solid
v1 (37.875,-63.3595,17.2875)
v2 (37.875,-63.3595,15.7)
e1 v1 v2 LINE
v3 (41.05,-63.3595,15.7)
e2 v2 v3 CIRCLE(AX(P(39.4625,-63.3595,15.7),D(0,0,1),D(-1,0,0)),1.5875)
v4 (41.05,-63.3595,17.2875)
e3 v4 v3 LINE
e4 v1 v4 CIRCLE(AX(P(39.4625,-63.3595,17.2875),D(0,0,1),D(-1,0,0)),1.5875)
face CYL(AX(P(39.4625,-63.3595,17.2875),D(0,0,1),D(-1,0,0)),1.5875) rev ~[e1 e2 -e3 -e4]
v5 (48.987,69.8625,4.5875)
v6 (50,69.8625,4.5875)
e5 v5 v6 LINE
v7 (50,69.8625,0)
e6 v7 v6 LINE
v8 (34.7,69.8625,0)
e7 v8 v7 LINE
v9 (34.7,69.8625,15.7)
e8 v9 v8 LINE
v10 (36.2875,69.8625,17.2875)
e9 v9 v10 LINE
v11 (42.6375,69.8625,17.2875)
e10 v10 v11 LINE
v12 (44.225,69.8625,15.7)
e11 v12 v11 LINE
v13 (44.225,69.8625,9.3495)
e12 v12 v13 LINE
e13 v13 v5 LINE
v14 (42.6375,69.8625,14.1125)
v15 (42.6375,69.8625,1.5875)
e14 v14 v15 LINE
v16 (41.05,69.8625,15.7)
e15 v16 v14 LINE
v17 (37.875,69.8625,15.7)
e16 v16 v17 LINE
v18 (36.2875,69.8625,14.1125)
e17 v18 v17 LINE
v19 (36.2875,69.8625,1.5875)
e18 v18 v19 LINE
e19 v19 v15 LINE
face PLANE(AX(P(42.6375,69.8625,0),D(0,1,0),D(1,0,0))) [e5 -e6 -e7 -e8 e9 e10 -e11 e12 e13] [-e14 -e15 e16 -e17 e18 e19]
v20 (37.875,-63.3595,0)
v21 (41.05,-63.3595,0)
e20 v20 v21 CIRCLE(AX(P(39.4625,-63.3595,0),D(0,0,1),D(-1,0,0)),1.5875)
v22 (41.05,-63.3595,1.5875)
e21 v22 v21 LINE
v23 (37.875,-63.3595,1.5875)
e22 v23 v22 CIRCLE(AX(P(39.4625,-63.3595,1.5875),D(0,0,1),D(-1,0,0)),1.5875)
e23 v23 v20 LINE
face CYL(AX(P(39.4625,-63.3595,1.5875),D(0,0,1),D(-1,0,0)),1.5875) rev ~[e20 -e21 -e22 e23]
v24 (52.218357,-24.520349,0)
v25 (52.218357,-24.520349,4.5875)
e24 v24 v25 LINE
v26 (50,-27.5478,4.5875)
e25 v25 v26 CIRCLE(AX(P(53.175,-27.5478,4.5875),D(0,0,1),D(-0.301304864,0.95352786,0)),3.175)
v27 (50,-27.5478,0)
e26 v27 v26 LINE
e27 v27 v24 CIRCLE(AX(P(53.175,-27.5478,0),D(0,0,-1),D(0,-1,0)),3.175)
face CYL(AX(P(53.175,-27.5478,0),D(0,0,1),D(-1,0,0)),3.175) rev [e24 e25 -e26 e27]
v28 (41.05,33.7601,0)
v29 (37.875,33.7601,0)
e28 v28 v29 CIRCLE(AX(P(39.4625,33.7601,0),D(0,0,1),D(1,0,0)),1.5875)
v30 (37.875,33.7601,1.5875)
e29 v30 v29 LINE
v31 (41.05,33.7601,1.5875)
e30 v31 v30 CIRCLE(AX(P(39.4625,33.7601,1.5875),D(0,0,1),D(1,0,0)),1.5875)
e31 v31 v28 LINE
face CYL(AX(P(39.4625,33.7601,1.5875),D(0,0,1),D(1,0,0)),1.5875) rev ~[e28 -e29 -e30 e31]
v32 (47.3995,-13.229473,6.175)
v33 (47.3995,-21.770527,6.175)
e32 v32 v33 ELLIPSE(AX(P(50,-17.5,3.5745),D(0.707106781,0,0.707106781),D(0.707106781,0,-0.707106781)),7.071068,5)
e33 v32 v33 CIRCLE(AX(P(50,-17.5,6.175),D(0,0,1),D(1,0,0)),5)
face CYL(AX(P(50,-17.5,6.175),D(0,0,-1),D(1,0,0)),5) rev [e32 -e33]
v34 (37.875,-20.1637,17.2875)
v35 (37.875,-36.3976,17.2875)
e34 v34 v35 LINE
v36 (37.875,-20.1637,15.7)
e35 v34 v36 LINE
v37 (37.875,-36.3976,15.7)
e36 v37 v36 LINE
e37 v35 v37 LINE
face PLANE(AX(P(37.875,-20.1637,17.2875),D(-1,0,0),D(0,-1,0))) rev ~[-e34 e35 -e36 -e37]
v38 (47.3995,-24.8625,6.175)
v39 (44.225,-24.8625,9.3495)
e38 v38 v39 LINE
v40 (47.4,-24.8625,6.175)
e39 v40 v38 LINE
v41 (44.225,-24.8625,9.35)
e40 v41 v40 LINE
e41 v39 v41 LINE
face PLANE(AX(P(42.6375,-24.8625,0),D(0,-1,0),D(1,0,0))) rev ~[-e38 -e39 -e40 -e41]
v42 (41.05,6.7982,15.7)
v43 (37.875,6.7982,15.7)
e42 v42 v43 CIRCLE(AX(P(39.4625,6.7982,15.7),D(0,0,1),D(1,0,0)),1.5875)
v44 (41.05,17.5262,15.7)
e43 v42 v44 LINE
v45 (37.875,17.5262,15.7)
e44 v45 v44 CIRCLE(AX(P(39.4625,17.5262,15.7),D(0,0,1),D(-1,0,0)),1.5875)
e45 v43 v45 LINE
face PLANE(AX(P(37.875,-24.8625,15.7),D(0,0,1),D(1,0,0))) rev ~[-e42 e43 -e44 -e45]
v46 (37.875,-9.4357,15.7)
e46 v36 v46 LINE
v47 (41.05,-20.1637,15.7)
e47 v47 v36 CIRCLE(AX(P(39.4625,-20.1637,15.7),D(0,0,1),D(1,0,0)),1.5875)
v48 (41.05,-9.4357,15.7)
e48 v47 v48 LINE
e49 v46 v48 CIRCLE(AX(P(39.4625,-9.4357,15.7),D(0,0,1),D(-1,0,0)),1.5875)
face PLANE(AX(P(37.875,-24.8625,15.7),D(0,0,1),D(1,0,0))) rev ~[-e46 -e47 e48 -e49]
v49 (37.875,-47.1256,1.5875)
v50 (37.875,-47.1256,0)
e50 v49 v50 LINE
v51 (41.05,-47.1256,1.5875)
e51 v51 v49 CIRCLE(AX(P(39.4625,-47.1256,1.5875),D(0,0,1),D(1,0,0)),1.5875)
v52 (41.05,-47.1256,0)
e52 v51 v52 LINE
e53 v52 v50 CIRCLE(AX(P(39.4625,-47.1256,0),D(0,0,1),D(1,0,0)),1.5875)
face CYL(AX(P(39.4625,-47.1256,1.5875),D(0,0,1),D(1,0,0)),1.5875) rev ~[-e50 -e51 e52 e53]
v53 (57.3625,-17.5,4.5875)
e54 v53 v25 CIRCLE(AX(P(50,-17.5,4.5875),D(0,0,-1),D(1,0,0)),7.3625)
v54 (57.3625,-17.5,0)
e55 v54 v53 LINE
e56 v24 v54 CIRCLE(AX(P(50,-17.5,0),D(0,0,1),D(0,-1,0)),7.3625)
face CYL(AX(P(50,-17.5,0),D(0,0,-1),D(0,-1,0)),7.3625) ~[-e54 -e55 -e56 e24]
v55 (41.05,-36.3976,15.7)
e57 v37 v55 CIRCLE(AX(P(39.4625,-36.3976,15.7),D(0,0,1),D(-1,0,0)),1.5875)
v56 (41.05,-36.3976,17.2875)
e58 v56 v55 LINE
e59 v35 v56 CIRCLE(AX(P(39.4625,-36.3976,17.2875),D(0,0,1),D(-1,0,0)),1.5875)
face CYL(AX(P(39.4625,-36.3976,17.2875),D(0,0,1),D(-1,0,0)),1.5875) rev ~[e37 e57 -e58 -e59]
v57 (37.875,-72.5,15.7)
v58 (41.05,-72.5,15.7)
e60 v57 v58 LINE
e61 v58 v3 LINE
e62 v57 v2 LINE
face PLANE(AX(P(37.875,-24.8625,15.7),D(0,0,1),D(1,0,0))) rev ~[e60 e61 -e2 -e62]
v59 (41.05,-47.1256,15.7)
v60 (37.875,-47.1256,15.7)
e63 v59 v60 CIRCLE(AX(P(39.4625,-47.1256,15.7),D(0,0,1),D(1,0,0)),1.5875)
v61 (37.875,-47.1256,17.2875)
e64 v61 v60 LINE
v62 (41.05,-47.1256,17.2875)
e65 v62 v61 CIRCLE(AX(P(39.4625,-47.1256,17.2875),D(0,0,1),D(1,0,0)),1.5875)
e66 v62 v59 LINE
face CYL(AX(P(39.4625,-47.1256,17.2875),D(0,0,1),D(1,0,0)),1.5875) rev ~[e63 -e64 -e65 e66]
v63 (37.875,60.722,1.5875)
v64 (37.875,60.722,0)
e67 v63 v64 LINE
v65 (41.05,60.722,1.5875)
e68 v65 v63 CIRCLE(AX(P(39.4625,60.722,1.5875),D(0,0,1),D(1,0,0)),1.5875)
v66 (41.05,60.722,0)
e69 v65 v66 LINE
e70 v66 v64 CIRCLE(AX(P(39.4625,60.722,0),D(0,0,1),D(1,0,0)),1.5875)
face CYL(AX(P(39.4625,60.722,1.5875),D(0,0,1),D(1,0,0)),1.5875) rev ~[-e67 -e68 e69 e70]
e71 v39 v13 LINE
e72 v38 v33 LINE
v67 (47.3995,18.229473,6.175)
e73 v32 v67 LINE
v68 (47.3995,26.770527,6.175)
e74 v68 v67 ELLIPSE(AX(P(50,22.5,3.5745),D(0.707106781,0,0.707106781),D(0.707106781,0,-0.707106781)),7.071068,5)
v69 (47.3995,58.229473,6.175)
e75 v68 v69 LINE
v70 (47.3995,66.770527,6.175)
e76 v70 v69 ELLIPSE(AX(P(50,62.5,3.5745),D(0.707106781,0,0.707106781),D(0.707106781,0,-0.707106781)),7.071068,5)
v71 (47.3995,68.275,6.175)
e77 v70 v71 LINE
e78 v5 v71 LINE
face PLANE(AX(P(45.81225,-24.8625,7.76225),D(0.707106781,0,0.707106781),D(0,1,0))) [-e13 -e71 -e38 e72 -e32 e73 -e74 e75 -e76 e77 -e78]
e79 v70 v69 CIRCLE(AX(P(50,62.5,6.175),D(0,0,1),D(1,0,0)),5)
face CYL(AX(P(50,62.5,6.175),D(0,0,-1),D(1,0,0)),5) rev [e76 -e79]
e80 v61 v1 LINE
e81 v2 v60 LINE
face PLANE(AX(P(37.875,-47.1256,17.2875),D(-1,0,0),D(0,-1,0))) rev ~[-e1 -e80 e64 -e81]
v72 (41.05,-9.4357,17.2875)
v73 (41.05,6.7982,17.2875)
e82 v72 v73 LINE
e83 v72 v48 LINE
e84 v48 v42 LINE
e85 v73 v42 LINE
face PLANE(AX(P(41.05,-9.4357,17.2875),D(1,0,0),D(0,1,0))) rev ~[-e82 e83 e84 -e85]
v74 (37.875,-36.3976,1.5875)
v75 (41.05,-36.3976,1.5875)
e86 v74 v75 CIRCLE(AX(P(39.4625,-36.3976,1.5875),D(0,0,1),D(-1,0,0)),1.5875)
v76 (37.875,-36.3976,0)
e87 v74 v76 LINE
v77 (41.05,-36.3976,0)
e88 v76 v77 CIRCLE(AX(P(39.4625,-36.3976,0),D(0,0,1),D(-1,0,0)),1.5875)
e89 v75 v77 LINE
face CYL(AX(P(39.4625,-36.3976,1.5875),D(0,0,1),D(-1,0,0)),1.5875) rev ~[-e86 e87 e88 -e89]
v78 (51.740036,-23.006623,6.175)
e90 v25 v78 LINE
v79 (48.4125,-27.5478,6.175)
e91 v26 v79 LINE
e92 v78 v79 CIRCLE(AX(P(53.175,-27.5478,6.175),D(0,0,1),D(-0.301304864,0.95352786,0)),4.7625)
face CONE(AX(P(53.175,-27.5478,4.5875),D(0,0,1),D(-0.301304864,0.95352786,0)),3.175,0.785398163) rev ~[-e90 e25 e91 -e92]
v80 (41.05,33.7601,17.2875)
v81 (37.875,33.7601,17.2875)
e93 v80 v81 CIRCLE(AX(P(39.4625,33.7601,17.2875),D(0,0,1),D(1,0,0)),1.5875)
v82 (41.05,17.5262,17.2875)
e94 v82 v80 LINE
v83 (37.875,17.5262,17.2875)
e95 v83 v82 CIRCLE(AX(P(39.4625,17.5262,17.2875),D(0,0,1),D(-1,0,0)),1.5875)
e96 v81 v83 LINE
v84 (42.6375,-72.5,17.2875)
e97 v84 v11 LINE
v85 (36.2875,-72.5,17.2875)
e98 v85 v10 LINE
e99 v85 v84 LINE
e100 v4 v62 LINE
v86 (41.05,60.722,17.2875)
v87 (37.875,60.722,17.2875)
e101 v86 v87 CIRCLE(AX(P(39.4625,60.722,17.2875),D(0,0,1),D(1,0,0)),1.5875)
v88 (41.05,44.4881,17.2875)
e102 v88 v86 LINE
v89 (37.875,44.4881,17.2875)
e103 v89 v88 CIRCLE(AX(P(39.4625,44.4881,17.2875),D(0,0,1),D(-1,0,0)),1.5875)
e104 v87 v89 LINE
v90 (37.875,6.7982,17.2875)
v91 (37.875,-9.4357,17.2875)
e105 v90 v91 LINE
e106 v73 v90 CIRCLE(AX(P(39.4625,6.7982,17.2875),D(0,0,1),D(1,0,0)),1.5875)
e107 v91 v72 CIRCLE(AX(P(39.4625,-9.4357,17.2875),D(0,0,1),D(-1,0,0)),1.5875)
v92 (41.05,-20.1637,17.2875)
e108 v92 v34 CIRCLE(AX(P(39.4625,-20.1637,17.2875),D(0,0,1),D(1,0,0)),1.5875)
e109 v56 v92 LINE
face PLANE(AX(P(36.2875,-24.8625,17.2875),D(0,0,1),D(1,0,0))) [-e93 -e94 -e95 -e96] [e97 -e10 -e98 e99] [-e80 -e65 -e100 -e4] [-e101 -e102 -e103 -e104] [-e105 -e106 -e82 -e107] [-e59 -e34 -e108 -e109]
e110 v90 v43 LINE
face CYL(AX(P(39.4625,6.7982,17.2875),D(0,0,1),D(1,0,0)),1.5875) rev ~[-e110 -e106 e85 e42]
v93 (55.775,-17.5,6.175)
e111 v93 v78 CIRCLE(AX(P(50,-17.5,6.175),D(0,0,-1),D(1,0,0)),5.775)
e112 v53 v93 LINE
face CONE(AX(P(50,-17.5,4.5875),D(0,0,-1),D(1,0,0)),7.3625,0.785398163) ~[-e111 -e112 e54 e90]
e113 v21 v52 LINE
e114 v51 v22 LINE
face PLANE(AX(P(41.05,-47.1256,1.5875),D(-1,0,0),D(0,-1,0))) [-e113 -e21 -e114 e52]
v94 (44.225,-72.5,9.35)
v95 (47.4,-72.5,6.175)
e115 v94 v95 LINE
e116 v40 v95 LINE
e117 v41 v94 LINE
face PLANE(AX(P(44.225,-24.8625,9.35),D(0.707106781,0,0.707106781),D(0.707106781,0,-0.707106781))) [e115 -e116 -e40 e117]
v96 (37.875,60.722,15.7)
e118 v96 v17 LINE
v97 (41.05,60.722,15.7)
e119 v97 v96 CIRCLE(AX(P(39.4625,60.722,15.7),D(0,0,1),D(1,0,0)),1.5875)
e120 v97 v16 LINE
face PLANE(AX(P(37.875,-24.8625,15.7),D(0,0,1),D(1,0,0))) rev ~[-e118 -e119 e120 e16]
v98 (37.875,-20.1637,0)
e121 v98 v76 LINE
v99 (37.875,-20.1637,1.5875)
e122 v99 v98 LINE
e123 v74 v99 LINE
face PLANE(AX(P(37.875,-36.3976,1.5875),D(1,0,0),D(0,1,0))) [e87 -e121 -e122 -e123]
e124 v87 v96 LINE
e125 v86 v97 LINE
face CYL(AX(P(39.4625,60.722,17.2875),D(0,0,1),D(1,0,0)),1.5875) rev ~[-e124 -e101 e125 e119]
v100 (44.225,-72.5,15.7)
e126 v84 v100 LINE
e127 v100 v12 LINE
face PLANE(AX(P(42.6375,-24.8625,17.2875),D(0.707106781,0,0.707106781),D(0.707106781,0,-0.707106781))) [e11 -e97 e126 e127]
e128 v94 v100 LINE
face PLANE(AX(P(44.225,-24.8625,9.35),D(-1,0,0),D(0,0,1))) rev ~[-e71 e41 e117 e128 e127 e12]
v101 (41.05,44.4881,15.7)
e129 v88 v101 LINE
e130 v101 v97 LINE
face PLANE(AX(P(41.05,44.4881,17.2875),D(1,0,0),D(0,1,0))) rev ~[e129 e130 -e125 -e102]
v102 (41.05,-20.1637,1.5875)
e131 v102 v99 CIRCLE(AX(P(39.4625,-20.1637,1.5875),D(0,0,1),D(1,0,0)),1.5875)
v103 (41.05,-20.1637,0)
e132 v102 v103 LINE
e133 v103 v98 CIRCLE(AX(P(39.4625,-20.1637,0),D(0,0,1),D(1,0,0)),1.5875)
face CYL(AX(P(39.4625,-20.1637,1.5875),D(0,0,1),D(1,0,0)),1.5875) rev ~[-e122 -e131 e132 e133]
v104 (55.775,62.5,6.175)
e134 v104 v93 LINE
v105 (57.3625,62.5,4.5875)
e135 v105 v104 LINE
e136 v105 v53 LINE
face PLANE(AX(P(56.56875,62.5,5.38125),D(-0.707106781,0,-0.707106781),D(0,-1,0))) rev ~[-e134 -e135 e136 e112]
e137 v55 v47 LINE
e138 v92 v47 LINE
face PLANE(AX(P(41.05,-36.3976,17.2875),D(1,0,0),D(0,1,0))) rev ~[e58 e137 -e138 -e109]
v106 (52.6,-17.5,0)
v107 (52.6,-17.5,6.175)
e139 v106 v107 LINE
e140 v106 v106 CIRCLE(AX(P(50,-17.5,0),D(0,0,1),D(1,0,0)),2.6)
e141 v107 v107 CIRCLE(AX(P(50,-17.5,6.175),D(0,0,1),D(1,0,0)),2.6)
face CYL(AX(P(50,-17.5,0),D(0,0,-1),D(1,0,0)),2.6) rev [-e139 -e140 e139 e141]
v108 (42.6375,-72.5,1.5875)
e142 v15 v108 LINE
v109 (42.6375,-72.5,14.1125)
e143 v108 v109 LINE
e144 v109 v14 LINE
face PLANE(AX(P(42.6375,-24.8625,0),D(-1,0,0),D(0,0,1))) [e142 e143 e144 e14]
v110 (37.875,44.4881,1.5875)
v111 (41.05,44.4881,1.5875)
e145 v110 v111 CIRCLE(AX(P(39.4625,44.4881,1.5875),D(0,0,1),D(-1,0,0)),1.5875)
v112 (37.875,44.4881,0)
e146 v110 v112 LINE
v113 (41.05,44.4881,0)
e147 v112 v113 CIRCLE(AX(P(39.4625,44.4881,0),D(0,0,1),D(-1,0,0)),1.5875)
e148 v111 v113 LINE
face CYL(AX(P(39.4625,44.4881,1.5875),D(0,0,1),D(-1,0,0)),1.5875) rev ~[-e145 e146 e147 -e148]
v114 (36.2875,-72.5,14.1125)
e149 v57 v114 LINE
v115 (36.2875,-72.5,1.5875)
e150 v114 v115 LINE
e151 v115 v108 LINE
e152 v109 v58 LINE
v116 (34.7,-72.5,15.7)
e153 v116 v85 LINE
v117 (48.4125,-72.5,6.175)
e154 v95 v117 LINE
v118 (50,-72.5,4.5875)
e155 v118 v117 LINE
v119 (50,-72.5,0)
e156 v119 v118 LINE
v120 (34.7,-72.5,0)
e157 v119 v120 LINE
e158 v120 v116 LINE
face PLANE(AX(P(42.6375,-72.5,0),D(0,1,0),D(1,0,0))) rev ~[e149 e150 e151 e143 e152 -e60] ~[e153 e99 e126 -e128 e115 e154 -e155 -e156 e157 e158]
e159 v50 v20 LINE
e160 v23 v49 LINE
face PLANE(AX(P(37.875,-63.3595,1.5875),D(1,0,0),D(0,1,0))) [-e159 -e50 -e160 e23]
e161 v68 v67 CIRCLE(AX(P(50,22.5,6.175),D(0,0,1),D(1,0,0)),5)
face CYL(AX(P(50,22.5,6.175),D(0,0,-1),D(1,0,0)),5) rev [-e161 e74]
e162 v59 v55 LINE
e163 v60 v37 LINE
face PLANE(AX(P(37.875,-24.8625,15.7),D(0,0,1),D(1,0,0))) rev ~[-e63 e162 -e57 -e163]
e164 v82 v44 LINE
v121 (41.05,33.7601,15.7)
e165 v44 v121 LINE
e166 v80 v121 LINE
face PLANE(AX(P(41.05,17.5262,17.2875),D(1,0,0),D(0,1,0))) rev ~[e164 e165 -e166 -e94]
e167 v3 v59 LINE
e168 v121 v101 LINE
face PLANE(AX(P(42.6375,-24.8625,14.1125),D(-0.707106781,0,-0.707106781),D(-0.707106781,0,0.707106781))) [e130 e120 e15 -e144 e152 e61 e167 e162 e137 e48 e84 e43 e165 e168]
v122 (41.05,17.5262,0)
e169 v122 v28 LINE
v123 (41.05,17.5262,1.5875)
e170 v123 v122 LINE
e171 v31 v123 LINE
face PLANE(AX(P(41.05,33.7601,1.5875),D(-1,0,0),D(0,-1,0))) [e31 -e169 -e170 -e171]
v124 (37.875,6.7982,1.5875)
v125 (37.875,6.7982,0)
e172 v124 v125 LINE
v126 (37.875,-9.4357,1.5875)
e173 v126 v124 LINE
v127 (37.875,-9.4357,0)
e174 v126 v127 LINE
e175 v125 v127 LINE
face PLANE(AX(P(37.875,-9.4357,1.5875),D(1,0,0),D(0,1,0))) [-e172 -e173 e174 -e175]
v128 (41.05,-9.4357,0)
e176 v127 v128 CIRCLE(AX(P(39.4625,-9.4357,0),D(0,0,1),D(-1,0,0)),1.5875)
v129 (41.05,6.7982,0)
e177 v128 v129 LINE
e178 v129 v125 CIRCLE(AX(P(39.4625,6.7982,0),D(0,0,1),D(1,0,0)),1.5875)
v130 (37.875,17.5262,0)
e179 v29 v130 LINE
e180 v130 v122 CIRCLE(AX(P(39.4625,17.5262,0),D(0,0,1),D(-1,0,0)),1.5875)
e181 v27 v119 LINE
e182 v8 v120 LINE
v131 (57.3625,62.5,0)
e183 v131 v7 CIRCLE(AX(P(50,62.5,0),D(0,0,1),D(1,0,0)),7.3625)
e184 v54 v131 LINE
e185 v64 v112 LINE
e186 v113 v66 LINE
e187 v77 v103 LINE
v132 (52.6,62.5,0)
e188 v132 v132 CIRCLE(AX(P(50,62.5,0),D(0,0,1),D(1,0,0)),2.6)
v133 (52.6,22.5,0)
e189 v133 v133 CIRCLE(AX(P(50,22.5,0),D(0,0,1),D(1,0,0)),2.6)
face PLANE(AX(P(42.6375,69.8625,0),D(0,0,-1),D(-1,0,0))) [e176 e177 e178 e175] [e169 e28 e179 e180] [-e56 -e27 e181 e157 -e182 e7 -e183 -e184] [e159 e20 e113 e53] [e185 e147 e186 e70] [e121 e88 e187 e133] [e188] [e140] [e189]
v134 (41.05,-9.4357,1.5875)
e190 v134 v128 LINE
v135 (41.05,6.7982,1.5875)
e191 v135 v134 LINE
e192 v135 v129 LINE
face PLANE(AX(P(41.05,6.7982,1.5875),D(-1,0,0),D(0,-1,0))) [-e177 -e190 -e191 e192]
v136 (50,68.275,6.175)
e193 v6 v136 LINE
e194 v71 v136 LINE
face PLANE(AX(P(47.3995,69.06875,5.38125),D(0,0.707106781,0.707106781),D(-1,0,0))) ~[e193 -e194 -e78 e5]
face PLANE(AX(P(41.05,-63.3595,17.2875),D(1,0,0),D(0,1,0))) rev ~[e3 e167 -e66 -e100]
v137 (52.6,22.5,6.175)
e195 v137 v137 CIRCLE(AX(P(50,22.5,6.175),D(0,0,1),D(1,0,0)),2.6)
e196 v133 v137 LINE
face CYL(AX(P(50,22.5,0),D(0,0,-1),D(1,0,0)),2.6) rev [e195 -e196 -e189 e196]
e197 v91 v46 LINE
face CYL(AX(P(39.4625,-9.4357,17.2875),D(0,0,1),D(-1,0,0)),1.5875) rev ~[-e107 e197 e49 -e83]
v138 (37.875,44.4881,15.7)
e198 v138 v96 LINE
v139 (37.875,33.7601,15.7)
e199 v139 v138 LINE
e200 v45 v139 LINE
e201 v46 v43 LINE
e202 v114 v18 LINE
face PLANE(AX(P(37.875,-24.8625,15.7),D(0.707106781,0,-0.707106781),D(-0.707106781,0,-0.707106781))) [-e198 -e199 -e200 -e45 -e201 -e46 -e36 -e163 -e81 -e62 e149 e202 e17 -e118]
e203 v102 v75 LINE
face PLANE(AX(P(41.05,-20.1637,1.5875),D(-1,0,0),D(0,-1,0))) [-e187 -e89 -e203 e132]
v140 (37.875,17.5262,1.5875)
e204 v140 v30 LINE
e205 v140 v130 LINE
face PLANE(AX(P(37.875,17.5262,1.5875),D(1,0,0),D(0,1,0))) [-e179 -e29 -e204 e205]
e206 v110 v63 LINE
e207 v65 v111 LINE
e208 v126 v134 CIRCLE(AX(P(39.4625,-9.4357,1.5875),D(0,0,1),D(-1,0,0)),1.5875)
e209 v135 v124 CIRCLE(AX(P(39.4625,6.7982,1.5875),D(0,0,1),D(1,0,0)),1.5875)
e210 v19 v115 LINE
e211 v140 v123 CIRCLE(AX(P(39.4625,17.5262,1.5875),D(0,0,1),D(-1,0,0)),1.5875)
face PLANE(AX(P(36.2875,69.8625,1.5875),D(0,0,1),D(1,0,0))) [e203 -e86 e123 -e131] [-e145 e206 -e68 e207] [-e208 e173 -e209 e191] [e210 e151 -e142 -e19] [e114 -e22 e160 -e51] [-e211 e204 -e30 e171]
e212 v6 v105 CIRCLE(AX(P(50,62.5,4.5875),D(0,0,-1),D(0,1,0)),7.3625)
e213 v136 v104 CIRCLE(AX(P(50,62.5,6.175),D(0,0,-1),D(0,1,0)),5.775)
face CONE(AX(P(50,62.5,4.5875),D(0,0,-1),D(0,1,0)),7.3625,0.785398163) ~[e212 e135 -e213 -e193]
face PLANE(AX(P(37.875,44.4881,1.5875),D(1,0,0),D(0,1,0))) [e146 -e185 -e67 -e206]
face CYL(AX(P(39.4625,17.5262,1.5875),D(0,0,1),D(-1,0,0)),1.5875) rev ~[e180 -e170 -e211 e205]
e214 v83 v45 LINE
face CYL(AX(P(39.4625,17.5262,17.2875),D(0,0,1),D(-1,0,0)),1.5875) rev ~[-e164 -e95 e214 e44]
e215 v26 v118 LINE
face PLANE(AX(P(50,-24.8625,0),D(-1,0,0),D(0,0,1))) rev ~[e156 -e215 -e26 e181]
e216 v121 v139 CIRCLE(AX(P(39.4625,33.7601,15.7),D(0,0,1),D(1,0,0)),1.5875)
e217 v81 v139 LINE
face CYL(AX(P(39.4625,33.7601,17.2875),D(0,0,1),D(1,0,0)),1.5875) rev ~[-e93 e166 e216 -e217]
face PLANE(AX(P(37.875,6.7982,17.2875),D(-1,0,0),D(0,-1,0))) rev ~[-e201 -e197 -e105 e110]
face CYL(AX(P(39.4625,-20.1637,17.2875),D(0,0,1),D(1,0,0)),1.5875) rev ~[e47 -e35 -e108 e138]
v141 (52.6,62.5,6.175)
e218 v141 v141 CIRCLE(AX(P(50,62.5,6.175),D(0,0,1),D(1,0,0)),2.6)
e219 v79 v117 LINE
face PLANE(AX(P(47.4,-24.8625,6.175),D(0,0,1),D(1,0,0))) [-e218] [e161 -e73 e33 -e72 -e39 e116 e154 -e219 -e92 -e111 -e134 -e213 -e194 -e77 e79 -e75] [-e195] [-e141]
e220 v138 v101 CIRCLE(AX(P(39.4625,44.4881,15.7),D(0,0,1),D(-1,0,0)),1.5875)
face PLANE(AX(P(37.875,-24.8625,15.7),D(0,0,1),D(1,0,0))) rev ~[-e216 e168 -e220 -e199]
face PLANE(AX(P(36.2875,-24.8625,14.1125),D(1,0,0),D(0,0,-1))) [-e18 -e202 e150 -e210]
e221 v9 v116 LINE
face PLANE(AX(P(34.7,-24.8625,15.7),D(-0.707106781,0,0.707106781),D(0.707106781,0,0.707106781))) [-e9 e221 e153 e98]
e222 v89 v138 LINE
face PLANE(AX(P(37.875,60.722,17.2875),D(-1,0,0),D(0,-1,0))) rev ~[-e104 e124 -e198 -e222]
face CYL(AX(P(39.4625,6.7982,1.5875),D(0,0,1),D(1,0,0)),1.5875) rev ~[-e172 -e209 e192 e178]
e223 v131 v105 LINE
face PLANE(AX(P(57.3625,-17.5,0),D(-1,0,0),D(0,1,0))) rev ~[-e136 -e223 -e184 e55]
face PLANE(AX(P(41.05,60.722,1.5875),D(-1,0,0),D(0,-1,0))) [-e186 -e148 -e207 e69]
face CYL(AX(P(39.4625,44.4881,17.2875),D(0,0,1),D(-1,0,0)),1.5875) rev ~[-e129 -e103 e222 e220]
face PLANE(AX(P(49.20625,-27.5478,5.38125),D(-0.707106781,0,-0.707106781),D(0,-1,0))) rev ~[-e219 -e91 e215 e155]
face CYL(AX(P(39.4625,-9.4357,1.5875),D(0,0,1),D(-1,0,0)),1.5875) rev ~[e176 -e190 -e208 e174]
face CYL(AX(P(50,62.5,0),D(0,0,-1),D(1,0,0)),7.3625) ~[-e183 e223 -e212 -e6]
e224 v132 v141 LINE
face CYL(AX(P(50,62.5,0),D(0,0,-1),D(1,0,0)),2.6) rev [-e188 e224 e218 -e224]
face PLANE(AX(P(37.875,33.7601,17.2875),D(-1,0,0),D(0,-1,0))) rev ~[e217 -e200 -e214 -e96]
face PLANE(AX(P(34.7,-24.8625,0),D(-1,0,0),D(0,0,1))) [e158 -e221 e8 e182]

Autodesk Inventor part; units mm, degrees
ref_plane "Work Plane1" through (0, 0, 0) normal (0, 0, 1) x (1, 0, 0)
sketch "Sketch1" plane through (0, 0, 0) normal (0, 0, 1) x (1, 0, 0)
  circle A0 centre (50, -17.5) radius 2.6 projected
  circle A1 centre (50, 22.5) radius 2.6 projected
  circle A2 centre (50, 62.5) radius 2.6 projected
  circle A3 centre (50, -17.5) radius 7.3625 construction
  circle A4 centre (50, 22.5) radius 7.3625 construction
  circle A5 centre (50, 62.5) radius 7.3625 construction
  line L0 (50, -24.8625) -> (42.6375, -24.8625)
  line L1 (42.6375, -24.8625) -> (42.6375, 69.8625)
  line L2 (42.6375, 69.8625) -> (50, 69.8625)
  line L3 (57.3625, -17.5) -> (57.3625, 62.5)
  arc A6 (50, -24.8625) -> (57.3625, -17.5) centre (50, -17.5) ccw
  arc A7 (57.3625, 62.5) -> (50, 69.8625) centre (50, 62.5) ccw
  circle A8 centre (50, -17.5) radius 5 construction
  point P0 (0, 0)
  dimension "d0" = 4.7625
  dimension "d1" = 10
extrude "Extrusion1" add sketch "Sketch1" along normal blind 6.175
sketch "Sketch2" plane through (0, 0, 6.175) normal (0, 0, 1) x (1, 0, 0)
  line L0 (42.6375, 69.8625) -> (42.6375, -24.8625) projected
  circle A0 centre (50, -17.5) radius 2.6 projected
  circle A1 centre (50, -17.5) radius 5 construction
  line L1 (42.6375, -24.8625) -> (50, -24.8625) construction
  line L2 (44.225, -24.8625) -> (44.225, 69.8625)
  line L3 (42.6375, 69.8625) -> (44.225, 69.8625)
  line L4 (42.6375, -24.8625) -> (44.225, -24.8625)
  point P0 (0, 0)
  dimension "d4" = 10
  dimension "d34" = 1.5875
ref_plane "Work Plane2" through (40.2375, 90.7678, 31.75) normal (0, 0, 1) x (1, 0, 0)
extrude "Extrusion2" add sketch "Sketch2" along normal blind 9.525 contours L3 L2 L4 L0
chamfer "Chamfer1" distance 3.175 angle 45 1 edges at (44.225, 22.5, 6.175)
sketch "Sketch3" plane through (0, 0, 6.175) normal (0, 0, 1) x (1, 0, 0)
  circle A0 centre (50, -17.5) radius 2.6 projected
  circle A1 centre (50, -17.5) radius 5
  circle A2 centre (50, 22.5) radius 2.6 projected
  circle A3 centre (50, 62.5) radius 2.6 projected
  circle A4 centre (50, 22.5) radius 5
  circle A5 centre (50, 62.5) radius 5
  point P0 (0, 0)
  point P1 (48.175, -15.6481)
  point P2 (48.175, -19.3519)
  point P3 (48.175, 24.3519)
  point P4 (48.175, 20.6481)
  point P5 (48.175, 64.3519)
  point P6 (48.175, 60.6481)
  dimension "d10" = 10
extrude "Extrusion3" cut sketch "Sketch3" along normal blind 25.4 contours A0 | A1 | A2 | A3 | A4 | A5
sketch "Sketch4" plane through (0, 0, 15.7) normal (0, 0, 1) x (1, 0, 0)
  line L0 (42.6375, -24.8625) -> (44.225, -24.8625) projected
  line L1 (44.225, -24.8625) -> (34.7, -24.8625)
  line L2 (34.7, -24.8625) -> (34.7, 69.8625)
  line L3 (34.7, 69.8625) -> (44.225, 69.8625)
  line L4 (44.225, 69.8625) -> (44.225, -24.8625)
  line L5 (44.225, 69.8625) -> (42.6375, 69.8625) projected
  line L6 (34.7, -24.8625) -> (36.2875, -24.8625)
  line L7 (36.2875, -24.8625) -> (36.2875, 69.8625)
  line L8 (36.2875, 69.8625) -> (34.7, 69.8625)
  line L9 (34.7, 69.8625) -> (34.7, -24.8625)
  line L10 (42.6375, 69.8625) -> (42.6375, -24.8625) projected
  point P0 (0, 0)
  dimension "d13" = 9.525
  dimension "d15" = 1.5875
  dimension "d16" = 1.5875
ref_plane "Work Plane3" through (-55.775, -68.275, 0) normal (0, 0, 1) x (1, 0, 0)
extrude "Extrusion4" add sketch "Sketch4" against normal up to surface (15.7 mm away) contours L1 L2 L3 L7
sketch "Sketch5" plane through (0, 0, 15.7) normal (0, 0, 1) x (1, 0, 0)
  line L0 (34.7, -24.8625) -> (34.7, 69.8625) projected
  line L1 (50, 69.8625) -> (42.6375, 69.8625) projected
  line L2 (34.7, -24.8625) -> (44.225, -24.8625)
  line L3 (44.225, -24.8625) -> (44.225, 69.8625)
  line L4 (44.225, 69.8625) -> (34.7, 69.8625)
  line L5 (34.7, 69.8625) -> (34.7, -24.8625)
  line L6 (44.225, -24.8625) -> (44.225, 69.8625) projected
  point P0 (0, 0)
extrude "Extrusion5" add sketch "Sketch5" along normal blind 1.5875
chamfer "Chamfer2" distance 1.5875 angle 45 4 edges at (44.225, 22.5, 17.2875) (34.7, 22.5, 17.2875) (36.2875, 22.5, 15.7) (42.6375, 22.5, 15.7)
sketch "Sketch7" plane through (42.6375, -24.8625, 0) normal (0, -1, 0) x (1, 0, 0)
  point P0 (-42.6375, 0)
sketch "Sketch8" plane through (42.6375, -24.8625, 0) normal (0, -1, 0) x (1, 0, 0)
  line L0 (-7.9375, 15.7) -> (-6.35, 17.2875) projected
  line L1 (-7.9375, 0) -> (-7.9375, 15.7) projected
  line L2 (-6.35, 0) -> (-7.9375, 0) projected
  line L3 (-6.35, 14.1125) -> (-6.35, 0) projected
  line L4 (-4.7625, 15.7) -> (-6.35, 14.1125) projected
  line L5 (-4.7625, 15.7) -> (-1.5875, 15.7) projected
  line L6 (0, 14.1125) -> (-1.5875, 15.7) projected
  line L7 (0, 0) -> (0, 14.1125) projected
  line L8 (0, 0) -> (7.3625, 0) projected
  line L9 (7.3625, 0) -> (7.3625, 6.175) projected
  line L10 (4.7625, 6.175) -> (7.3625, 6.175) projected
  line L11 (1.5875, 9.35) -> (4.7625, 6.175) projected
  line L12 (1.5875, 9.35) -> (1.5875, 15.7) projected
  line L13 (0, 17.2875) -> (1.5875, 15.7) projected
  line L14 (-6.35, 17.2875) -> (0, 17.2875) projected
  point P0 (-42.6375, 0)
ref_plane "Work Plane4" through (-290, -72.5, -10.037) normal (0, -1, 0) x (1, 0, 0)
extrude "Extrusion7" add sketch "Sketch8" along normal up to surface (47.6375 mm away)
fillet "Fillet1" radius 3.175 1 edges at (50, -24.8625, 3.0875)
sketch "Sketch9" plane through (0, 0, 17.2875) normal (0, 0, 1) x (1, 0, 0)
  line L0 (36.2875, 69.8625) -> (36.2875, -72.5) projected
  line L1 (42.6375, 69.8625) -> (42.6375, -72.5) projected
  line L2 (39.4625, -63.3595) -> (39.4625, -47.1256) construction
  line L3 (41.05, -63.3595) -> (41.05, -47.1256)
  line L4 (37.875, -47.1256) -> (37.875, -63.3595)
  arc A0 (37.875, -63.3595) -> (41.05, -63.3595) centre (39.4625, -63.3595) ccw
  arc A1 (41.05, -47.1256) -> (37.875, -47.1256) centre (39.4625, -47.1256) ccw
  line L5 (36.2875, -72.5) -> (42.6375, -72.5) projected
  line L6 (39.4625, -36.3976) -> (39.4625, -20.1637) construction
  line L7 (41.05, -36.3976) -> (41.05, -20.1637)
  line L8 (37.875, -20.1637) -> (37.875, -36.3976)
  arc A2 (37.875, -36.3976) -> (41.05, -36.3976) centre (39.4625, -36.3976) ccw
  arc A3 (41.05, -20.1637) -> (37.875, -20.1637) centre (39.4625, -20.1637) ccw
  line L9 (39.4625, -9.4357) -> (39.4625, 6.7982) construction
  line L10 (41.05, -9.4357) -> (41.05, 6.7982)
  line L11 (37.875, 6.7982) -> (37.875, -9.4357)
  arc A4 (37.875, -9.4357) -> (41.05, -9.4357) centre (39.4625, -9.4357) ccw
  arc A5 (41.05, 6.7982) -> (37.875, 6.7982) centre (39.4625, 6.7982) ccw
  line L12 (39.4625, 17.5262) -> (39.4625, 33.7601) construction
  line L13 (41.05, 17.5262) -> (41.05, 33.7601)
  line L14 (37.875, 33.7601) -> (37.875, 17.5262)
  arc A6 (37.875, 17.5262) -> (41.05, 17.5262) centre (39.4625, 17.5262) ccw
  arc A7 (41.05, 33.7601) -> (37.875, 33.7601) centre (39.4625, 33.7601) ccw
  line L15 (39.4625, 44.4881) -> (39.4625, 60.722) construction
  line L16 (41.05, 44.4881) -> (41.05, 60.722)
  line L17 (37.875, 60.722) -> (37.875, 44.4881)
  arc A8 (37.875, 44.4881) -> (41.05, 44.4881) centre (39.4625, 44.4881) ccw
  arc A9 (41.05, 60.722) -> (37.875, 60.722) centre (39.4625, 60.722) ccw
  line L18 (42.6375, 69.8625) -> (36.2875, 69.8625) projected
  point P0 (0, 0)
  point P1 (39.4625, -55.2425)
  point P2 (39.4625, -72.5)
  point P3 (39.4625, -64.947)
  point P4 (39.4625, -72.5)
  point P5 (39.4625, -28.2806)
  point P6 (39.4625, -1.3187)
  point P7 (39.4625, 25.6431)
  point P8 (39.4625, 52.605)
  point P9 (39.4625, 69.8625)
  point P10 (39.4625, 62.3095)
  point P11 (39.4625, -37.9851)
  point P12 (39.4625, -45.5381)
  point P13 (39.4625, -11.0232)
  point P14 (39.4625, -18.5762)
  point P15 (39.4625, 15.9387)
  point P16 (39.4625, 8.3857)
  point P17 (39.4625, 42.9006)
  point P18 (39.4625, 35.3476)
  dimension "d38" = 1.5875
  dimension "d39" = 7.553
  dimension "d40" = 16.2339
  dimension "d41" = 7.553
  dimension "d46" = 7.553
  dimension "d47" = 7.553
  dimension "d48" = 7.553
  dimension "d49" = 7.553
extrude "Extrusion8" cut sketch "Sketch9" against normal through all contours A0 L4 A1 L3 | A2 L8 A3 L7 | A4 L11 A5 L10 | A6 L14 A7 L13 | A8 L17 A9 L16
sketch "Sketch10" plane through (42.6375, 69.8625, 0) normal (0, 1, 0) x (1, 0, 0)
  line L0 (-6.35, -1.5875) -> (0, -1.5875)
  line L1 (-6.35, -14.1125) -> (-6.35, 0) projected
  line L2 (0, 0) -> (0, -14.1125) projected
  line L3 (26.1975, 0) -> (-54.11, 0) projected
  point P0 (-42.6375, 0)
  dimension "d53" = 1.5875
extrude "Extrusion9" add sketch "Sketch10" against normal up to surface (142.3625 mm away)
chamfer "Chamfer3" distance 1.5875 angle 45 5 edges at (50, -50.0239, 6.175) (55.9388, -21.8517, 6.175) (57.3625, 22.5, 6.175) (55.2061, 67.7061, 6.175) (48.6997, 69.8625, 6.175)
sketch "Sketch11" plane through (36.2875, -72.5, 1.5875) normal (0, 0, 1) x (1, 0, 0)
  line L0 (1.5875, 63.0643) -> (1.5875, 79.2982) projected
  arc A0 (4.7625, 79.2982) -> (1.5875, 79.2982) centre (3.175, 79.2982) ccw projected
  line L1 (4.7625, 79.2982) -> (4.7625, 63.0643) projected
  arc A1 (1.5875, 63.0643) -> (4.7625, 63.0643) centre (3.175, 63.0643) ccw projected
  line L2 (1.5875, 90.0262) -> (1.5875, 106.2601) projected
  arc A2 (4.7625, 106.2601) -> (1.5875, 106.2601) centre (3.175, 106.2601) ccw projected
  line L3 (4.7625, 106.2601) -> (4.7625, 90.0262) projected
  arc A3 (1.5875, 90.0262) -> (4.7625, 90.0262) centre (3.175, 90.0262) ccw projected
  line L4 (1.5875, 36.1024) -> (1.5875, 52.3363) projected
  arc A4 (4.7625, 52.3363) -> (1.5875, 52.3363) centre (3.175, 52.3363) ccw projected
  line L5 (4.7625, 52.3363) -> (4.7625, 36.1024) projected
  arc A5 (1.5875, 36.1024) -> (4.7625, 36.1024) centre (3.175, 36.1024) ccw projected
  line L6 (1.5875, 116.9881) -> (1.5875, 133.222) projected
  arc A6 (4.7625, 133.222) -> (1.5875, 133.222) centre (3.175, 133.222) ccw projected
  line L7 (4.7625, 133.222) -> (4.7625, 116.9881) projected
  arc A7 (1.5875, 116.9881) -> (4.7625, 116.9881) centre (3.175, 116.9881) ccw projected
  line L8 (1.5875, 9.1405) -> (1.5875, 25.3744) projected
  arc A8 (4.7625, 25.3744) -> (1.5875, 25.3744) centre (3.175, 25.3744) ccw projected
  line L9 (4.7625, 25.3744) -> (4.7625, 9.1405) projected
  arc A9 (1.5875, 9.1405) -> (4.7625, 9.1405) centre (3.175, 9.1405) ccw projected
  line L10 (0, 142.3625) -> (0, 0) projected
  line L11 (0, 0) -> (6.35, 0) projected
  line L12 (6.35, 142.3625) -> (6.35, 0) projected
  line L13 (6.35, 142.3625) -> (0, 142.3625) projected
  point P0 (-36.2875, 72.5)
extrude "Extrusion10" cut sketch "Sketch11" against normal blind 25.4 contours L0 A0 L1 A1 | L2 A2 L3 A3 | L4 A4 L5 A5 | L6 A6 L7 A7 | L8 A8 L9 A9
equation "\"d15\" = d16"
equation "\"d41\" = d39"
equation "\"d46\" = d39"
equation "\"d47\" = d46"
equation "\"d48\" = d47"
equation "\"d49\" = d48"
properties part number "CNC-028-WireTrack1" material "ABS Plastic"
